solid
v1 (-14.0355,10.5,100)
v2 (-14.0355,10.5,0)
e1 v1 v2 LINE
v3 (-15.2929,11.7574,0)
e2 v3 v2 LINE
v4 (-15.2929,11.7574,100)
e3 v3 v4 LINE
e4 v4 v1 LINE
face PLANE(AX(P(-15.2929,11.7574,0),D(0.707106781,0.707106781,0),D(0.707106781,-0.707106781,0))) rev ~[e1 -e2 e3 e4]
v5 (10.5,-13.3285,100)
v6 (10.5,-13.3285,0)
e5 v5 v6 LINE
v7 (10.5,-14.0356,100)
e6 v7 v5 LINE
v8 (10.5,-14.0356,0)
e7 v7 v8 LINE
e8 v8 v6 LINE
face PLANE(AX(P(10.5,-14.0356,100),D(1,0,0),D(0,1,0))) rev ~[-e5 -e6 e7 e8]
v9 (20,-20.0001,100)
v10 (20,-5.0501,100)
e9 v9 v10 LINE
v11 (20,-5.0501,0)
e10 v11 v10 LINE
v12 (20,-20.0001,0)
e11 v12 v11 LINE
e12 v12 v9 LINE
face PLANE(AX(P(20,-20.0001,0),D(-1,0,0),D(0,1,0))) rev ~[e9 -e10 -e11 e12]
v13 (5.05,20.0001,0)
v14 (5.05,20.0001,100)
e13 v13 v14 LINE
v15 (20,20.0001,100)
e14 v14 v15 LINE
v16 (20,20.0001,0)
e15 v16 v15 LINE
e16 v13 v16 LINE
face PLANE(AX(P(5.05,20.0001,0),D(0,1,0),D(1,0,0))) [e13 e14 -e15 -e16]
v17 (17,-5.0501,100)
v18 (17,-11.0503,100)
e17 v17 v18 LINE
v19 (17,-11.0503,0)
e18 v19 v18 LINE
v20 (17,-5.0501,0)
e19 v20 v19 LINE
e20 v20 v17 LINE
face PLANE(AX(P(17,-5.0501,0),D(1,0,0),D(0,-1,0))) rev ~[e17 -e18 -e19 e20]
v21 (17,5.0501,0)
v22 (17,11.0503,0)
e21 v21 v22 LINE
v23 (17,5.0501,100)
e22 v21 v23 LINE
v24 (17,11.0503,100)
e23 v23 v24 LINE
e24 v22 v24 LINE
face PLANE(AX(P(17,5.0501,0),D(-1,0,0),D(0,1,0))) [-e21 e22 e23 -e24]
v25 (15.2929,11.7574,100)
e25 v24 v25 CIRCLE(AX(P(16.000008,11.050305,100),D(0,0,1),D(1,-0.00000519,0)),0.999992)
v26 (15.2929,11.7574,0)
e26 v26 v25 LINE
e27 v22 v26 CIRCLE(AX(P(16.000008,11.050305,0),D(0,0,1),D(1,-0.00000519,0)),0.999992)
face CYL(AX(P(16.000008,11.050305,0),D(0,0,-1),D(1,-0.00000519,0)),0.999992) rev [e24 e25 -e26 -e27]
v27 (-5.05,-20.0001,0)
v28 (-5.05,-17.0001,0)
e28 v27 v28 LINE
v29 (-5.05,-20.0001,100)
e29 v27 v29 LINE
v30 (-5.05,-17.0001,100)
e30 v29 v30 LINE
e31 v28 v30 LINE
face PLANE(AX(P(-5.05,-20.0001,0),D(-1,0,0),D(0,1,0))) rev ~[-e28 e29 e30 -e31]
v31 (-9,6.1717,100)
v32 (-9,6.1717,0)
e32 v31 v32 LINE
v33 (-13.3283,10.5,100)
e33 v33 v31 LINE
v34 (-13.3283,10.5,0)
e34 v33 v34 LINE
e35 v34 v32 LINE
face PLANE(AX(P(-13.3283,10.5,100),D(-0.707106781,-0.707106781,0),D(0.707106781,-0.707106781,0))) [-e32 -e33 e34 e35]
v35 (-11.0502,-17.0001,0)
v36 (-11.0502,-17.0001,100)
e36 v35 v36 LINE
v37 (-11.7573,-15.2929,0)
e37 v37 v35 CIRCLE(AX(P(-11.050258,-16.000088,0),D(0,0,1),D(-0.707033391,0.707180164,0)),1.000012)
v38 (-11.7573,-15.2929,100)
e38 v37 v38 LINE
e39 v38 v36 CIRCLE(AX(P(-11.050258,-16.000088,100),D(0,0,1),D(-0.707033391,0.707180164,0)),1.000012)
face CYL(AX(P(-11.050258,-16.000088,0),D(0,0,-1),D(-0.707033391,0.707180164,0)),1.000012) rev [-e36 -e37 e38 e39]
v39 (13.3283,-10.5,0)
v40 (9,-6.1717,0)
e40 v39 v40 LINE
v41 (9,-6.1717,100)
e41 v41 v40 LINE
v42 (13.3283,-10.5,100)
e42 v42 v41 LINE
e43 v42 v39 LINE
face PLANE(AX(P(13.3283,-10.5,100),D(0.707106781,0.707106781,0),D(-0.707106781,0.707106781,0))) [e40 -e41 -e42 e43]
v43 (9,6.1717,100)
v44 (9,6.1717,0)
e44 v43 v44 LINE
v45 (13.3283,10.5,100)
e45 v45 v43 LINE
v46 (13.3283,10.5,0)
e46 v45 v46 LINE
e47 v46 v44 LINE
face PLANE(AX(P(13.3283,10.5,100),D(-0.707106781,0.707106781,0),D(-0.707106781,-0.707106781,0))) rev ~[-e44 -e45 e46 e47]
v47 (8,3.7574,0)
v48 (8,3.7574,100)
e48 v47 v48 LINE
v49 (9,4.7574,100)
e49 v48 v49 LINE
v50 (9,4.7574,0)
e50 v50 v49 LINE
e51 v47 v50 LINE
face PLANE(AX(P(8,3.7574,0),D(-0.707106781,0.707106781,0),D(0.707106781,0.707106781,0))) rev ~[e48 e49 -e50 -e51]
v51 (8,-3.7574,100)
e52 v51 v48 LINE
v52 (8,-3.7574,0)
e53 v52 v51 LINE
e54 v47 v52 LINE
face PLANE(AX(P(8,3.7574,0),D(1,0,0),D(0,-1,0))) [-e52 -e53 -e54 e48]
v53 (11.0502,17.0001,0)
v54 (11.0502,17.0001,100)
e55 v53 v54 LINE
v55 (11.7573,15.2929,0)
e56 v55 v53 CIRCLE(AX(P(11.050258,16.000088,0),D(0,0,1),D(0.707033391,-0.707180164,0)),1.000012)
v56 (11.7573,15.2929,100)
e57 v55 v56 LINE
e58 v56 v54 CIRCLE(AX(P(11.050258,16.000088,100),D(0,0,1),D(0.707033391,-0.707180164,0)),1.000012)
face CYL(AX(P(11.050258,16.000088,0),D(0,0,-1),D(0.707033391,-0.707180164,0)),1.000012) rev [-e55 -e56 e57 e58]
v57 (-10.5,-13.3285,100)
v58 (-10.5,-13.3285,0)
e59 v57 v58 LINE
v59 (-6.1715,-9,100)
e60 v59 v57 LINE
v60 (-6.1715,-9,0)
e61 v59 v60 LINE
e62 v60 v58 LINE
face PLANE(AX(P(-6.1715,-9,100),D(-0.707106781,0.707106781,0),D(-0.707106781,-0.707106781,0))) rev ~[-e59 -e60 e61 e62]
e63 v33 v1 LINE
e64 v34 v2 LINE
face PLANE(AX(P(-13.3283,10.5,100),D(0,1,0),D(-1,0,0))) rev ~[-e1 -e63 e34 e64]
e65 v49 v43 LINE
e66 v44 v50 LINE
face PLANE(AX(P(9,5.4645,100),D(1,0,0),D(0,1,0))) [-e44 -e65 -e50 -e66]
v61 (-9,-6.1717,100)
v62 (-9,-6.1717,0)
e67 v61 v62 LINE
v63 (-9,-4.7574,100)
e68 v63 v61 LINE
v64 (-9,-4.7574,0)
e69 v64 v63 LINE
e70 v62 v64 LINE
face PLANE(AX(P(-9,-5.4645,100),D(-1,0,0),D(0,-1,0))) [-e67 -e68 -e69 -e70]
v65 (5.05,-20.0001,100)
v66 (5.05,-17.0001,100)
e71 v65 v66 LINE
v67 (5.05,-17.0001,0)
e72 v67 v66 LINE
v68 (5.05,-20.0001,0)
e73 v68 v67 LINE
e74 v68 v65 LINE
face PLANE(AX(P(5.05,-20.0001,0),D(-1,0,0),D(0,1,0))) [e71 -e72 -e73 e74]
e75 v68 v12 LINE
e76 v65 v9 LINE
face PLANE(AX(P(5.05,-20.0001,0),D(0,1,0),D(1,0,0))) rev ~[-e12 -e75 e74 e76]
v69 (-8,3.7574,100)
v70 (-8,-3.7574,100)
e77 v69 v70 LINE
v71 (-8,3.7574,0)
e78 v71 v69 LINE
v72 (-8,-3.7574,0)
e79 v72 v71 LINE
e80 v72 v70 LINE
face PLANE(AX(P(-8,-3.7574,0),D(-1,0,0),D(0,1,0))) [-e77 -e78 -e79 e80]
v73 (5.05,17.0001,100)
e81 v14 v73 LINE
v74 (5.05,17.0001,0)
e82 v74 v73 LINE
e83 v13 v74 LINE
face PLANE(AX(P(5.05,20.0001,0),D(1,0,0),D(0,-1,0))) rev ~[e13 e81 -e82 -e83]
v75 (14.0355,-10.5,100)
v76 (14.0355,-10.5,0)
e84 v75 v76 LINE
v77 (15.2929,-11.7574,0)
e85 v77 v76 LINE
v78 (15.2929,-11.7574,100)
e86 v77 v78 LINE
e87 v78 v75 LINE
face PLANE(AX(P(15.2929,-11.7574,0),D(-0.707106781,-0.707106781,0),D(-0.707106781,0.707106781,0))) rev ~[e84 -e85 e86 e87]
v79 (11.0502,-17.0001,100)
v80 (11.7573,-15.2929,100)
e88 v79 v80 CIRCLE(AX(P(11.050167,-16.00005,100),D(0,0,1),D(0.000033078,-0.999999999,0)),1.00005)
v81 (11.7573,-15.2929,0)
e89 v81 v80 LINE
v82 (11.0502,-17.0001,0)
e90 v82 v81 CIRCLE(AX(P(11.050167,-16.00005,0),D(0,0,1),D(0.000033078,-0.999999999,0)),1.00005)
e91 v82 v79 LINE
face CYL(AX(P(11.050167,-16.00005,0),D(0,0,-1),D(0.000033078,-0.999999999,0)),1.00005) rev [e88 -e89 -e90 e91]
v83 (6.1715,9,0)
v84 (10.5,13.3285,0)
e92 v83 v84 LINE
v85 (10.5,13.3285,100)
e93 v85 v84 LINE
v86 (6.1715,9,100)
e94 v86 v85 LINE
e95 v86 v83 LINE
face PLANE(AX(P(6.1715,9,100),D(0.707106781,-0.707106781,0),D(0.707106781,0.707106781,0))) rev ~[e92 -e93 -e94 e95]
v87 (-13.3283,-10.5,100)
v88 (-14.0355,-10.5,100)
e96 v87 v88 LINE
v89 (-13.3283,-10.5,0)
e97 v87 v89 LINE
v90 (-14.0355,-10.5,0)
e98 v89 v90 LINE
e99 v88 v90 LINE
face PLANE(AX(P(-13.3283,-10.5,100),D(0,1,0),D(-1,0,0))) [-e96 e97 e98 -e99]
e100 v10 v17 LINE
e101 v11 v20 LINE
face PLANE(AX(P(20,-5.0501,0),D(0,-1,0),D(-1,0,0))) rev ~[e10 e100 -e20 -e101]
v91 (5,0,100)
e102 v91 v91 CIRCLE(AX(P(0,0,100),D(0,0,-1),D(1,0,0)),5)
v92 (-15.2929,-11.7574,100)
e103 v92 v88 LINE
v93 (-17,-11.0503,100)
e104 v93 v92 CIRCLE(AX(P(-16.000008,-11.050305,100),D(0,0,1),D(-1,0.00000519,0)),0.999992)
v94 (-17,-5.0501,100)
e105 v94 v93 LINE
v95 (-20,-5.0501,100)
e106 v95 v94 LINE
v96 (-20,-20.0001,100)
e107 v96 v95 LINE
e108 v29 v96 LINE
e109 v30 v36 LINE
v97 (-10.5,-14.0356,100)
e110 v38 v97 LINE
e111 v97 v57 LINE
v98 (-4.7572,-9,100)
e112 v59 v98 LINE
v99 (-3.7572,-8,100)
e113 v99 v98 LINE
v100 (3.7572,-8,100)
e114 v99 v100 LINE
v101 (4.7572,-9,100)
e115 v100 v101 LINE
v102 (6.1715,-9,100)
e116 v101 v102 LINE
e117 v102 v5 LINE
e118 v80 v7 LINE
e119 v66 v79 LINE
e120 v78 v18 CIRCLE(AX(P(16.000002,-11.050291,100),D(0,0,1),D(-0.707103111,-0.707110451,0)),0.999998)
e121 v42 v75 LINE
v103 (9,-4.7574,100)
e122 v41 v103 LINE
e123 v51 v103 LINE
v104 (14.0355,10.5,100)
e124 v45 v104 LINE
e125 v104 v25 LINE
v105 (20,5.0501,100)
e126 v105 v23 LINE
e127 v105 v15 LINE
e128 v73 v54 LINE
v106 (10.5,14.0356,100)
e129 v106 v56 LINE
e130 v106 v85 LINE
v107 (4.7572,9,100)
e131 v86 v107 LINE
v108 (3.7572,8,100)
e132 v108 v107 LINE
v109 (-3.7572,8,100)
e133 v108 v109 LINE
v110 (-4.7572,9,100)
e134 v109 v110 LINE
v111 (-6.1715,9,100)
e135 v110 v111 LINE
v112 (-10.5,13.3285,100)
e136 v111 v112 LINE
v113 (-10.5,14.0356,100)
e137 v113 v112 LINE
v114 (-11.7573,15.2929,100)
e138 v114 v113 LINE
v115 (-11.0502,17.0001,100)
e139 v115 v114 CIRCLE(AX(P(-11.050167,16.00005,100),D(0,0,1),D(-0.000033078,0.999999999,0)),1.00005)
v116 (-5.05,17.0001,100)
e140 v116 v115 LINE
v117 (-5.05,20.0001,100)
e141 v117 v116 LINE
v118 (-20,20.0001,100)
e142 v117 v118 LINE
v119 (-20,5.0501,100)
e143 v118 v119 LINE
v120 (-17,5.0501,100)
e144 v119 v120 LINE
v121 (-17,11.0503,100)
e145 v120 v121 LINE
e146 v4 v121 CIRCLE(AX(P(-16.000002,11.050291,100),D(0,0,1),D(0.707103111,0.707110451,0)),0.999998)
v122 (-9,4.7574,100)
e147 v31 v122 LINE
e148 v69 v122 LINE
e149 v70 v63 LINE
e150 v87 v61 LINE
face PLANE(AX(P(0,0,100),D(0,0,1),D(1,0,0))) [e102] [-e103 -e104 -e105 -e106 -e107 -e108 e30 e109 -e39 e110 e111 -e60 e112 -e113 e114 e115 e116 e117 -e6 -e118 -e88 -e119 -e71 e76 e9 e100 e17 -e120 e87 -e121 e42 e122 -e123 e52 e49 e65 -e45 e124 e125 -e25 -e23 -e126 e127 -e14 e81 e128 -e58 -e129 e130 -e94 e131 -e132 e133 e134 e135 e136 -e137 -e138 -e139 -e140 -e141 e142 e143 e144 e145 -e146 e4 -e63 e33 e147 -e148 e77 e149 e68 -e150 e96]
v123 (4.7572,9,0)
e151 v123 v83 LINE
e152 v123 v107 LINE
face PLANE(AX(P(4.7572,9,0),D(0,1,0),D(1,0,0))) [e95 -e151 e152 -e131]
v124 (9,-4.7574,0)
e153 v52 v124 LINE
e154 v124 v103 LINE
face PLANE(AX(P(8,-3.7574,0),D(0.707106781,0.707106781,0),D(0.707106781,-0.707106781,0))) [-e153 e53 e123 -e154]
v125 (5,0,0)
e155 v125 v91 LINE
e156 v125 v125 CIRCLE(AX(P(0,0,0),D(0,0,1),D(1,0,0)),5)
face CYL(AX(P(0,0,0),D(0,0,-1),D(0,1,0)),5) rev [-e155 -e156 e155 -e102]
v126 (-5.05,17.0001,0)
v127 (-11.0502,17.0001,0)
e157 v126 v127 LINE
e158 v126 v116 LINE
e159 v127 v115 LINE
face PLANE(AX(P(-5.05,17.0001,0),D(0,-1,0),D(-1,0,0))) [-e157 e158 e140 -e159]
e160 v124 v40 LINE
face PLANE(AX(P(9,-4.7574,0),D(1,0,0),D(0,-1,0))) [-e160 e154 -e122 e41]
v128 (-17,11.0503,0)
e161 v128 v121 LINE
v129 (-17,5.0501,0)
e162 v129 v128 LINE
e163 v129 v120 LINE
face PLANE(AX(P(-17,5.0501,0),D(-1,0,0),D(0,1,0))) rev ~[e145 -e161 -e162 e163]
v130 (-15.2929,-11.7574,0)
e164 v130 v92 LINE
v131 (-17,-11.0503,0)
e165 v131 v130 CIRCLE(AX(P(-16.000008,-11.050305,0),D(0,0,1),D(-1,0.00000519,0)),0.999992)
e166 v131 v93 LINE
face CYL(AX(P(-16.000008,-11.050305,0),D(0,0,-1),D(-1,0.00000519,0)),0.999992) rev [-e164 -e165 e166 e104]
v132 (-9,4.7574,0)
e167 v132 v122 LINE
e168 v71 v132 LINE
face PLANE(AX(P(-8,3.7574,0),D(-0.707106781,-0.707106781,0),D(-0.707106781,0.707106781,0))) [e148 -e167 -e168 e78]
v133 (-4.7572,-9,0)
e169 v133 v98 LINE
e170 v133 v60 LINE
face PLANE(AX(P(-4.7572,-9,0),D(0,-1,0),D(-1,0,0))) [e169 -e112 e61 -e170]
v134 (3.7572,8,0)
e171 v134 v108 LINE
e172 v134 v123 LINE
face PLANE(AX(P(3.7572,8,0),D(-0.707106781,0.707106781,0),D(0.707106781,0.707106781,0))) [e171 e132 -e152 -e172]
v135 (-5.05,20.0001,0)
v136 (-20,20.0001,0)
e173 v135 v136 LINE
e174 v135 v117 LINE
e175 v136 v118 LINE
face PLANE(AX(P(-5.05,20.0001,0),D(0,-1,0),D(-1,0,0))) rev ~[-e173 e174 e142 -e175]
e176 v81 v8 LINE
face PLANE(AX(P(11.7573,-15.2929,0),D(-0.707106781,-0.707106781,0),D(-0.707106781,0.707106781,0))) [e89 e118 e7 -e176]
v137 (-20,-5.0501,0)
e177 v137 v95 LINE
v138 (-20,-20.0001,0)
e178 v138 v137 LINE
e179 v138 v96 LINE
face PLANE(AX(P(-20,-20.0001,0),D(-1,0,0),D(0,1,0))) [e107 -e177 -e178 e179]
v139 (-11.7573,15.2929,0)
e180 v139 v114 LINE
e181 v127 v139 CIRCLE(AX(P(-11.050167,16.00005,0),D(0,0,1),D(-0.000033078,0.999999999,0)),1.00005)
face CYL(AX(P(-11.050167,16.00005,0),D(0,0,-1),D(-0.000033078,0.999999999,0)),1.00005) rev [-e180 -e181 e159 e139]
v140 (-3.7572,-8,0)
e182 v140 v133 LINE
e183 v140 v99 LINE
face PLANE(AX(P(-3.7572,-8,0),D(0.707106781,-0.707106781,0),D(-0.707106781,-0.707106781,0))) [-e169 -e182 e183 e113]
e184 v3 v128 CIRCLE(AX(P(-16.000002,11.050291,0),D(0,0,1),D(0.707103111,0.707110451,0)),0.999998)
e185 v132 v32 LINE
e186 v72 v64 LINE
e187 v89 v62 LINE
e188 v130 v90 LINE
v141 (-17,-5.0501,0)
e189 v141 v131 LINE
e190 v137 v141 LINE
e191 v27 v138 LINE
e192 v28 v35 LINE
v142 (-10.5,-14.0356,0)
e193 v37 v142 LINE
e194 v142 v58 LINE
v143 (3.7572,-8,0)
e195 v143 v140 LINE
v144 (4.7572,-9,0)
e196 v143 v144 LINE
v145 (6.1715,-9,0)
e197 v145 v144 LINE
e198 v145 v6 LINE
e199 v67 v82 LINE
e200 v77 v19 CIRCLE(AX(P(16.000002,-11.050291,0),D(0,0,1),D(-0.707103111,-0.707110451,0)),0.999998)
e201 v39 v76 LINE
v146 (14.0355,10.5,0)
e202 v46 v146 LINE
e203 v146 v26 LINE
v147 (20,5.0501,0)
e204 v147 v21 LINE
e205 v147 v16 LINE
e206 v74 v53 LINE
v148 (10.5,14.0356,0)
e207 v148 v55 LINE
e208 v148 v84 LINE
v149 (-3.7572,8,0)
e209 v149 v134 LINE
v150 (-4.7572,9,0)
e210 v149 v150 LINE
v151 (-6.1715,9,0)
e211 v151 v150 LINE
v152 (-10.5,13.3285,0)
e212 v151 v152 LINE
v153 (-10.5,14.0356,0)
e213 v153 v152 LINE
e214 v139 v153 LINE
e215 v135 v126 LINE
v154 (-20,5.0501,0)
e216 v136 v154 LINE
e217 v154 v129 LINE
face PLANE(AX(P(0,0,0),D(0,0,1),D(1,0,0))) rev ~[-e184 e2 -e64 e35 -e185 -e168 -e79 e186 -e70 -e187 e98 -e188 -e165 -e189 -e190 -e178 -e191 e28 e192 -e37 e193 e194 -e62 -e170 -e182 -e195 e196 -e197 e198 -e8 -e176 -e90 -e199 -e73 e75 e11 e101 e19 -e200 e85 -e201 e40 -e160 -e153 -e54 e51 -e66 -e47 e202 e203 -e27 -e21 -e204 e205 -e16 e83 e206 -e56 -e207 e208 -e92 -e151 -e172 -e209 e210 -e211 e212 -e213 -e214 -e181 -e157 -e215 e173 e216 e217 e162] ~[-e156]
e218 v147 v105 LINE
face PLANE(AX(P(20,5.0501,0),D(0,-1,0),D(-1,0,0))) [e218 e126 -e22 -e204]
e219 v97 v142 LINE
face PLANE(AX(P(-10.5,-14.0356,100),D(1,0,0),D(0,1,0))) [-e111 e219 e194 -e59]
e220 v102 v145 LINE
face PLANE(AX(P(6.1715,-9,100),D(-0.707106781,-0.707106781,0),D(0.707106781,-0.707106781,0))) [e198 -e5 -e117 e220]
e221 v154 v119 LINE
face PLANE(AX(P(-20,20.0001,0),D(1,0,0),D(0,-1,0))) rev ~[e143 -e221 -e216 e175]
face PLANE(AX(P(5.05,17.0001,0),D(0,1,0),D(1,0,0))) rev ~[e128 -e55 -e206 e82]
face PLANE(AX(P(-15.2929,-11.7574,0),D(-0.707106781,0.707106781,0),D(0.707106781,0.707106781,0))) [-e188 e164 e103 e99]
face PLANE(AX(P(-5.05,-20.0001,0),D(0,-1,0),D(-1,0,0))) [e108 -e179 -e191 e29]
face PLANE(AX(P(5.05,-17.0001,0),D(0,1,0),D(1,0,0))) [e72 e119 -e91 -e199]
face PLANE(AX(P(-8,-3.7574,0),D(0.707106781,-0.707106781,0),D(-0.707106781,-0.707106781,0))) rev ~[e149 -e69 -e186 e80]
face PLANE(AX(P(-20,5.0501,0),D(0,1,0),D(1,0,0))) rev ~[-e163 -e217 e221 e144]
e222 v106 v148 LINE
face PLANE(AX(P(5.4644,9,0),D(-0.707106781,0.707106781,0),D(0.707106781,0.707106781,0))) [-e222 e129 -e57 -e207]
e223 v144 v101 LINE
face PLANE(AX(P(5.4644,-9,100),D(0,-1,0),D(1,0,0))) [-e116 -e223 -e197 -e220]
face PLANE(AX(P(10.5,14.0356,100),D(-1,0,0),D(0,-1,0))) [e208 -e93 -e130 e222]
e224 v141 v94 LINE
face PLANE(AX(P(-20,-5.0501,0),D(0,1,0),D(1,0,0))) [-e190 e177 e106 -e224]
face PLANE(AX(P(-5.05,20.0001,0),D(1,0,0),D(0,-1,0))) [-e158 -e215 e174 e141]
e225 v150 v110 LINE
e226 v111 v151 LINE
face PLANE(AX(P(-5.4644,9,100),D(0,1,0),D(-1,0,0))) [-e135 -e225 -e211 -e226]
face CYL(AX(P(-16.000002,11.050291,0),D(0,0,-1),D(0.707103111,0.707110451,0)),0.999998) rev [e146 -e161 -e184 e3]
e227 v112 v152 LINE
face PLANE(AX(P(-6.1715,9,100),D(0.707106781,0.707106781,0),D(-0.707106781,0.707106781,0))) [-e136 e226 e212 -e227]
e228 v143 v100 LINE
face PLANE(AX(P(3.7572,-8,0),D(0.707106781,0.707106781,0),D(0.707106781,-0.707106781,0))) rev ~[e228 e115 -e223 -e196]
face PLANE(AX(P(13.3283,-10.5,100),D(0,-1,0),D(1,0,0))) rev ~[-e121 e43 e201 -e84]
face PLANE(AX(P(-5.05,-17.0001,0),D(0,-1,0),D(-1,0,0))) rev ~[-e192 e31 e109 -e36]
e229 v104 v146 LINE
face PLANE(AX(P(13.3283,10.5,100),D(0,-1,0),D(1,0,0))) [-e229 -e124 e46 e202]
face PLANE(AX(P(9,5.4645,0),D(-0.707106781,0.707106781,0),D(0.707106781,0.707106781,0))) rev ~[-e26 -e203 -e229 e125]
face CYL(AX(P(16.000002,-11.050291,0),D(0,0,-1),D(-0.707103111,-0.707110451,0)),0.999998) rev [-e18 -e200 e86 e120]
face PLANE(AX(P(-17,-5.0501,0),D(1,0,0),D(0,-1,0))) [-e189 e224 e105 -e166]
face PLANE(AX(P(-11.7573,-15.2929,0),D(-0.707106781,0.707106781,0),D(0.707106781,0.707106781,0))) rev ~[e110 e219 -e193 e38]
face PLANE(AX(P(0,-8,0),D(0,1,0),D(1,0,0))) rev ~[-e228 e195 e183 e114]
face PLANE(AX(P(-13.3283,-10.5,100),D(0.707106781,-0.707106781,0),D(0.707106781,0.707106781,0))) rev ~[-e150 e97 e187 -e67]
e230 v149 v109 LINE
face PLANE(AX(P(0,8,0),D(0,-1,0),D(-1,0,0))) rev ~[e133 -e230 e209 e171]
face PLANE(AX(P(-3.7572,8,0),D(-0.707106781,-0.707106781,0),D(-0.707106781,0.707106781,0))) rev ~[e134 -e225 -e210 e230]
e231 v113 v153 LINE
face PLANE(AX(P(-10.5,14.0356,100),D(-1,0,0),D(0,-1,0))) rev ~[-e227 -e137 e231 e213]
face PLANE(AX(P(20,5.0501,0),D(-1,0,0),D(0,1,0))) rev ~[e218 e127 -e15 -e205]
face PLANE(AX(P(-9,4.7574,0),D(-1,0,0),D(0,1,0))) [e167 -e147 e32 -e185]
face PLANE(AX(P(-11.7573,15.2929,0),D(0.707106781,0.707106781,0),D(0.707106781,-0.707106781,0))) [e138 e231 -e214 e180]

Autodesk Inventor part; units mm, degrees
ref_plane "YZ Plane" through (0, 0, 0) normal (1, 0, 0) x (0, 1, 0)
ref_plane "XZ Plane" through (0, 0, 0) normal (0, 1, 0) x (-1, 0, 0)
ref_plane "XY Plane" through (0, 0, 0) normal (0, 0, 1) x (1, 0, 0)
sketch "Sketch1" plane through (0, 0, 0) normal (0, 0, 1) x (1, 0, 0)
  arc A0 (0, 5) -> (-5, 0) centre (0, 0) ccw
  line L0 (-5.05, 20.0001) -> (-20, 20.0001)
  line L1 (-20, 20.0001) -> (-20, 5.0501)
  line L2 (-20, 5.0501) -> (-17, 5.0501)
  line L3 (-5.05, 20.0001) -> (-5.05, 17.0001)
  line L4 (0, 8) -> (-3.7572, 8)
  line L5 (-8, 3.7574) -> (-8, 0)
  arc A1 (-15.2929, 11.7574) -> (-17, 11.0503) centre (-16, 11.0503) ccw
  arc A2 (-11.0502, 17.0001) -> (-11.7573, 15.2929) centre (-11.0502, 16.0001) ccw
  line L6 (-17, 5.0501) -> (-17, 11.0503)
  line L7 (-5.05, 17.0001) -> (-11.0502, 17.0001)
  line L8 (-11.7573, 15.2929) -> (-5.4644, 9)
  line L9 (-15.2929, 11.7574) -> (-9, 5.4645)
  line L10 (0, 0) -> (-41.3511, 0) construction
  arc A3 (-5, 0) -> (0, -5) centre (0, 0) ccw
  line L11 (-5.05, -20.0001) -> (-20, -20.0001)
  line L12 (-20, -20.0001) -> (-20, -5.0501)
  line L13 (-20, -5.0501) -> (-17, -5.0501)
  line L14 (-5.05, -20.0001) -> (-5.05, -17.0001)
  line L15 (0, -8) -> (-3.7572, -8)
  line L16 (-8, -3.7574) -> (-8, 0)
  arc A4 (-17, -11.0503) -> (-15.2929, -11.7574) centre (-16, -11.0503) ccw
  arc A5 (-11.7573, -15.2929) -> (-11.0502, -17.0001) centre (-11.0502, -16.0001) ccw
  line L17 (-17, -5.0501) -> (-17, -11.0503)
  line L18 (-5.05, -17.0001) -> (-11.0502, -17.0001)
  line L19 (-11.7573, -15.2929) -> (-5.4644, -9)
  line L20 (-15.2929, -11.7574) -> (-9, -5.4645)
  line L21 (0, 26.9899) -> (0, -26.9183) construction
  arc A6 (0, -5) -> (5, 0) centre (0, 0) ccw
  line L22 (8, -3.7574) -> (8, 0)
  line L23 (15.2929, -11.7574) -> (9, -5.4645)
  line L24 (11.7573, -15.2929) -> (5.4644, -9)
  line L25 (0, -8) -> (3.7572, -8)
  line L26 (5.05, -17.0001) -> (11.0502, -17.0001)
  arc A7 (11.0502, -17.0001) -> (11.7573, -15.2929) centre (11.0502, -16.0001) ccw
  line L27 (5.05, -20.0001) -> (5.05, -17.0001)
  line L28 (5.05, -20.0001) -> (20, -20.0001)
  line L29 (20, -20.0001) -> (20, -5.0501)
  line L30 (20, -5.0501) -> (17, -5.0501)
  line L31 (17, -5.0501) -> (17, -11.0503)
  arc A8 (15.2929, -11.7574) -> (17, -11.0503) centre (16, -11.0503) ccw
  arc A9 (5, 0) -> (0, 5) centre (0, 0) ccw
  line L32 (20, 5.0501) -> (20, 20.0001)
  line L33 (5.05, 20.0001) -> (20, 20.0001)
  line L34 (5.05, 20.0001) -> (5.05, 17.0001)
  line L35 (20, 5.0501) -> (17, 5.0501)
  line L36 (5.4644, 9) -> (11.7573, 15.2929)
  line L37 (9, 5.4645) -> (15.2929, 11.7574)
  line L38 (5.05, 17.0001) -> (11.0502, 17.0001)
  line L39 (17, 5.0501) -> (17, 11.0503)
  arc A10 (11.7573, 15.2929) -> (11.0502, 17.0001) centre (11.0502, 16.0001) ccw
  arc A11 (17, 11.0503) -> (15.2929, 11.7574) centre (16, 11.0503) ccw
  line L40 (-3.7572, 8) -> (-4.7572, 9)
  line L41 (-8, 3.7574) -> (-9, 4.7574)
  line L42 (-9, 4.7574) -> (-9, 5.4645)
  line L43 (-4.7572, 9) -> (-5.4644, 9)
  line L44 (-3.7572, -8) -> (-4.7572, -9)
  line L45 (-8, -3.7574) -> (-9, -4.7574)
  line L46 (-9, -4.7574) -> (-9, -5.4645)
  line L47 (-4.7572, -9) -> (-5.4644, -9)
  line L48 (3.7572, 8) -> (4.7572, 9)
  line L49 (8, 3.7574) -> (9, 4.7574)
  line L50 (9, 4.7574) -> (9, 5.4645)
  line L51 (4.7572, 9) -> (5.4644, 9)
  line L52 (8, -3.7574) -> (9, -4.7574)
  line L53 (9, -4.7574) -> (9, -5.4645)
  line L54 (4.7572, -9) -> (5.4644, -9)
  line L55 (3.7572, -8) -> (4.7572, -9)
  line L56 (0, 8) -> (3.7572, 8)
  line L57 (8, 3.7574) -> (8, 0)
  point P0 (-4.4644, 8)
  point P1 (-8, 4.4645)
  dimension "d0" = 10
  dimension "d3" = 14.95
  dimension "d4" = 14.95
  dimension "d5" = 3
  dimension "d7" = 2
  dimension "d8" = 4
  dimension "d9" = 4
  dimension "d10" = 8.9498
  dimension "d11" = 8.9498
  dimension "d12" = 45
  dimension "d16" = 8
  dimension "d18" = 2.5
  dimension "d19" = 20
  dimension "d21" = 1
  dimension "d24" = 0.5
  dimension "d25" = 0.5
  dimension "d26" = 1
  dimension "d34" = 8
extrude "MK, 40X40" add sketch "Sketch1" along normal blind 100
sketch "Sketch2" plane through (0, 0, 100) normal (0, 0, 1) x (1, 0, 0)
  circle A0 centre (0, 0) radius 5 projected
  line L0 (-9, 5.4645) -> (-15.2929, 11.7574) projected
  line L1 (-11.7573, 15.2929) -> (-5.4644, 9) projected
  line L2 (-13.3283, 10.5) -> (-9, 6.1717)
  line L3 (-6.1715, 9) -> (-10.5, 13.3285)
  line L4 (-5.4644, 9) -> (-6.1715, 9)
  line L5 (-5.4644, 9) -> (-4.7572, 9) projected
  line L6 (-9, 5.4645) -> (-9, 6.1717)
  line L7 (-10.5, 14.0356) -> (-10.5, 13.3285)
  line L8 (-13.3283, 10.5) -> (-14.0355, 10.5)
  line L9 (0, 0) -> (-37.9325, 0) construction
  line L10 (0, 26.9937) -> (0, -28.1119) construction
  line L11 (-13.3283, -10.5) -> (-9, -6.1717)
  line L12 (-6.1715, -9) -> (-10.5, -13.3285)
  line L13 (-5.4644, -9) -> (-6.1715, -9)
  line L14 (-9, -5.4645) -> (-9, -6.1717)
  line L15 (-10.5, -14.0356) -> (-10.5, -13.3285)
  line L16 (-13.3283, -10.5) -> (-14.0355, -10.5)
  line L17 (13.3283, 10.5) -> (9, 6.1717)
  line L18 (6.1715, 9) -> (10.5, 13.3285)
  line L19 (5.4644, 9) -> (6.1715, 9)
  line L20 (9, 5.4645) -> (9, 6.1717)
  line L21 (10.5, 14.0356) -> (10.5, 13.3285)
  line L22 (13.3283, 10.5) -> (14.0355, 10.5)
  line L23 (13.3283, -10.5) -> (14.0355, -10.5)
  line L24 (13.3283, -10.5) -> (9, -6.1717)
  line L25 (9, -5.4645) -> (9, -6.1717)
  line L26 (5.4644, -9) -> (6.1715, -9)
  line L27 (6.1715, -9) -> (10.5, -13.3285)
  line L28 (10.5, -14.0356) -> (10.5, -13.3285)
  line L29 (-14.0355, -10.5) -> (-9, -5.4645)
  line L30 (-15.2929, -11.7574) -> (-9, -5.4645) projected
  line L31 (-5.4644, -9) -> (-10.5, -14.0356)
  line L32 (-5.4644, -9) -> (-11.7573, -15.2929) projected
  line L33 (10.5, -14.0356) -> (5.4644, -9)
  line L34 (14.0355, -10.5) -> (9, -5.4645)
  line L35 (9, 5.4645) -> (14.0355, 10.5)
  line L36 (10.5, 14.0356) -> (5.4644, 9)
  dimension "d28" = 4
  dimension "d29" = 0.5
  dimension "d30" = 10.5
  dimension "d31" = 10.5
extrude "Extrusion2" cut sketch "Sketch2" against normal through all contours L0 L8 L2 L6 | L1 L4 L3 L7 | L16 L29 L14 L11 | L13 L31 L15 L12 | L22 L35 L20 L17 | L19 L36 L21 L18 | L24 L25 L34 L23 | L26 L27 L28 L33
equation "\"d4\" = d3"
properties part number "BAR, EXTRUDED ALUM, 40MMX40MM, MK, STD DUTY, 54_01 SERIES" material "Aluminum, 6061-T6"
